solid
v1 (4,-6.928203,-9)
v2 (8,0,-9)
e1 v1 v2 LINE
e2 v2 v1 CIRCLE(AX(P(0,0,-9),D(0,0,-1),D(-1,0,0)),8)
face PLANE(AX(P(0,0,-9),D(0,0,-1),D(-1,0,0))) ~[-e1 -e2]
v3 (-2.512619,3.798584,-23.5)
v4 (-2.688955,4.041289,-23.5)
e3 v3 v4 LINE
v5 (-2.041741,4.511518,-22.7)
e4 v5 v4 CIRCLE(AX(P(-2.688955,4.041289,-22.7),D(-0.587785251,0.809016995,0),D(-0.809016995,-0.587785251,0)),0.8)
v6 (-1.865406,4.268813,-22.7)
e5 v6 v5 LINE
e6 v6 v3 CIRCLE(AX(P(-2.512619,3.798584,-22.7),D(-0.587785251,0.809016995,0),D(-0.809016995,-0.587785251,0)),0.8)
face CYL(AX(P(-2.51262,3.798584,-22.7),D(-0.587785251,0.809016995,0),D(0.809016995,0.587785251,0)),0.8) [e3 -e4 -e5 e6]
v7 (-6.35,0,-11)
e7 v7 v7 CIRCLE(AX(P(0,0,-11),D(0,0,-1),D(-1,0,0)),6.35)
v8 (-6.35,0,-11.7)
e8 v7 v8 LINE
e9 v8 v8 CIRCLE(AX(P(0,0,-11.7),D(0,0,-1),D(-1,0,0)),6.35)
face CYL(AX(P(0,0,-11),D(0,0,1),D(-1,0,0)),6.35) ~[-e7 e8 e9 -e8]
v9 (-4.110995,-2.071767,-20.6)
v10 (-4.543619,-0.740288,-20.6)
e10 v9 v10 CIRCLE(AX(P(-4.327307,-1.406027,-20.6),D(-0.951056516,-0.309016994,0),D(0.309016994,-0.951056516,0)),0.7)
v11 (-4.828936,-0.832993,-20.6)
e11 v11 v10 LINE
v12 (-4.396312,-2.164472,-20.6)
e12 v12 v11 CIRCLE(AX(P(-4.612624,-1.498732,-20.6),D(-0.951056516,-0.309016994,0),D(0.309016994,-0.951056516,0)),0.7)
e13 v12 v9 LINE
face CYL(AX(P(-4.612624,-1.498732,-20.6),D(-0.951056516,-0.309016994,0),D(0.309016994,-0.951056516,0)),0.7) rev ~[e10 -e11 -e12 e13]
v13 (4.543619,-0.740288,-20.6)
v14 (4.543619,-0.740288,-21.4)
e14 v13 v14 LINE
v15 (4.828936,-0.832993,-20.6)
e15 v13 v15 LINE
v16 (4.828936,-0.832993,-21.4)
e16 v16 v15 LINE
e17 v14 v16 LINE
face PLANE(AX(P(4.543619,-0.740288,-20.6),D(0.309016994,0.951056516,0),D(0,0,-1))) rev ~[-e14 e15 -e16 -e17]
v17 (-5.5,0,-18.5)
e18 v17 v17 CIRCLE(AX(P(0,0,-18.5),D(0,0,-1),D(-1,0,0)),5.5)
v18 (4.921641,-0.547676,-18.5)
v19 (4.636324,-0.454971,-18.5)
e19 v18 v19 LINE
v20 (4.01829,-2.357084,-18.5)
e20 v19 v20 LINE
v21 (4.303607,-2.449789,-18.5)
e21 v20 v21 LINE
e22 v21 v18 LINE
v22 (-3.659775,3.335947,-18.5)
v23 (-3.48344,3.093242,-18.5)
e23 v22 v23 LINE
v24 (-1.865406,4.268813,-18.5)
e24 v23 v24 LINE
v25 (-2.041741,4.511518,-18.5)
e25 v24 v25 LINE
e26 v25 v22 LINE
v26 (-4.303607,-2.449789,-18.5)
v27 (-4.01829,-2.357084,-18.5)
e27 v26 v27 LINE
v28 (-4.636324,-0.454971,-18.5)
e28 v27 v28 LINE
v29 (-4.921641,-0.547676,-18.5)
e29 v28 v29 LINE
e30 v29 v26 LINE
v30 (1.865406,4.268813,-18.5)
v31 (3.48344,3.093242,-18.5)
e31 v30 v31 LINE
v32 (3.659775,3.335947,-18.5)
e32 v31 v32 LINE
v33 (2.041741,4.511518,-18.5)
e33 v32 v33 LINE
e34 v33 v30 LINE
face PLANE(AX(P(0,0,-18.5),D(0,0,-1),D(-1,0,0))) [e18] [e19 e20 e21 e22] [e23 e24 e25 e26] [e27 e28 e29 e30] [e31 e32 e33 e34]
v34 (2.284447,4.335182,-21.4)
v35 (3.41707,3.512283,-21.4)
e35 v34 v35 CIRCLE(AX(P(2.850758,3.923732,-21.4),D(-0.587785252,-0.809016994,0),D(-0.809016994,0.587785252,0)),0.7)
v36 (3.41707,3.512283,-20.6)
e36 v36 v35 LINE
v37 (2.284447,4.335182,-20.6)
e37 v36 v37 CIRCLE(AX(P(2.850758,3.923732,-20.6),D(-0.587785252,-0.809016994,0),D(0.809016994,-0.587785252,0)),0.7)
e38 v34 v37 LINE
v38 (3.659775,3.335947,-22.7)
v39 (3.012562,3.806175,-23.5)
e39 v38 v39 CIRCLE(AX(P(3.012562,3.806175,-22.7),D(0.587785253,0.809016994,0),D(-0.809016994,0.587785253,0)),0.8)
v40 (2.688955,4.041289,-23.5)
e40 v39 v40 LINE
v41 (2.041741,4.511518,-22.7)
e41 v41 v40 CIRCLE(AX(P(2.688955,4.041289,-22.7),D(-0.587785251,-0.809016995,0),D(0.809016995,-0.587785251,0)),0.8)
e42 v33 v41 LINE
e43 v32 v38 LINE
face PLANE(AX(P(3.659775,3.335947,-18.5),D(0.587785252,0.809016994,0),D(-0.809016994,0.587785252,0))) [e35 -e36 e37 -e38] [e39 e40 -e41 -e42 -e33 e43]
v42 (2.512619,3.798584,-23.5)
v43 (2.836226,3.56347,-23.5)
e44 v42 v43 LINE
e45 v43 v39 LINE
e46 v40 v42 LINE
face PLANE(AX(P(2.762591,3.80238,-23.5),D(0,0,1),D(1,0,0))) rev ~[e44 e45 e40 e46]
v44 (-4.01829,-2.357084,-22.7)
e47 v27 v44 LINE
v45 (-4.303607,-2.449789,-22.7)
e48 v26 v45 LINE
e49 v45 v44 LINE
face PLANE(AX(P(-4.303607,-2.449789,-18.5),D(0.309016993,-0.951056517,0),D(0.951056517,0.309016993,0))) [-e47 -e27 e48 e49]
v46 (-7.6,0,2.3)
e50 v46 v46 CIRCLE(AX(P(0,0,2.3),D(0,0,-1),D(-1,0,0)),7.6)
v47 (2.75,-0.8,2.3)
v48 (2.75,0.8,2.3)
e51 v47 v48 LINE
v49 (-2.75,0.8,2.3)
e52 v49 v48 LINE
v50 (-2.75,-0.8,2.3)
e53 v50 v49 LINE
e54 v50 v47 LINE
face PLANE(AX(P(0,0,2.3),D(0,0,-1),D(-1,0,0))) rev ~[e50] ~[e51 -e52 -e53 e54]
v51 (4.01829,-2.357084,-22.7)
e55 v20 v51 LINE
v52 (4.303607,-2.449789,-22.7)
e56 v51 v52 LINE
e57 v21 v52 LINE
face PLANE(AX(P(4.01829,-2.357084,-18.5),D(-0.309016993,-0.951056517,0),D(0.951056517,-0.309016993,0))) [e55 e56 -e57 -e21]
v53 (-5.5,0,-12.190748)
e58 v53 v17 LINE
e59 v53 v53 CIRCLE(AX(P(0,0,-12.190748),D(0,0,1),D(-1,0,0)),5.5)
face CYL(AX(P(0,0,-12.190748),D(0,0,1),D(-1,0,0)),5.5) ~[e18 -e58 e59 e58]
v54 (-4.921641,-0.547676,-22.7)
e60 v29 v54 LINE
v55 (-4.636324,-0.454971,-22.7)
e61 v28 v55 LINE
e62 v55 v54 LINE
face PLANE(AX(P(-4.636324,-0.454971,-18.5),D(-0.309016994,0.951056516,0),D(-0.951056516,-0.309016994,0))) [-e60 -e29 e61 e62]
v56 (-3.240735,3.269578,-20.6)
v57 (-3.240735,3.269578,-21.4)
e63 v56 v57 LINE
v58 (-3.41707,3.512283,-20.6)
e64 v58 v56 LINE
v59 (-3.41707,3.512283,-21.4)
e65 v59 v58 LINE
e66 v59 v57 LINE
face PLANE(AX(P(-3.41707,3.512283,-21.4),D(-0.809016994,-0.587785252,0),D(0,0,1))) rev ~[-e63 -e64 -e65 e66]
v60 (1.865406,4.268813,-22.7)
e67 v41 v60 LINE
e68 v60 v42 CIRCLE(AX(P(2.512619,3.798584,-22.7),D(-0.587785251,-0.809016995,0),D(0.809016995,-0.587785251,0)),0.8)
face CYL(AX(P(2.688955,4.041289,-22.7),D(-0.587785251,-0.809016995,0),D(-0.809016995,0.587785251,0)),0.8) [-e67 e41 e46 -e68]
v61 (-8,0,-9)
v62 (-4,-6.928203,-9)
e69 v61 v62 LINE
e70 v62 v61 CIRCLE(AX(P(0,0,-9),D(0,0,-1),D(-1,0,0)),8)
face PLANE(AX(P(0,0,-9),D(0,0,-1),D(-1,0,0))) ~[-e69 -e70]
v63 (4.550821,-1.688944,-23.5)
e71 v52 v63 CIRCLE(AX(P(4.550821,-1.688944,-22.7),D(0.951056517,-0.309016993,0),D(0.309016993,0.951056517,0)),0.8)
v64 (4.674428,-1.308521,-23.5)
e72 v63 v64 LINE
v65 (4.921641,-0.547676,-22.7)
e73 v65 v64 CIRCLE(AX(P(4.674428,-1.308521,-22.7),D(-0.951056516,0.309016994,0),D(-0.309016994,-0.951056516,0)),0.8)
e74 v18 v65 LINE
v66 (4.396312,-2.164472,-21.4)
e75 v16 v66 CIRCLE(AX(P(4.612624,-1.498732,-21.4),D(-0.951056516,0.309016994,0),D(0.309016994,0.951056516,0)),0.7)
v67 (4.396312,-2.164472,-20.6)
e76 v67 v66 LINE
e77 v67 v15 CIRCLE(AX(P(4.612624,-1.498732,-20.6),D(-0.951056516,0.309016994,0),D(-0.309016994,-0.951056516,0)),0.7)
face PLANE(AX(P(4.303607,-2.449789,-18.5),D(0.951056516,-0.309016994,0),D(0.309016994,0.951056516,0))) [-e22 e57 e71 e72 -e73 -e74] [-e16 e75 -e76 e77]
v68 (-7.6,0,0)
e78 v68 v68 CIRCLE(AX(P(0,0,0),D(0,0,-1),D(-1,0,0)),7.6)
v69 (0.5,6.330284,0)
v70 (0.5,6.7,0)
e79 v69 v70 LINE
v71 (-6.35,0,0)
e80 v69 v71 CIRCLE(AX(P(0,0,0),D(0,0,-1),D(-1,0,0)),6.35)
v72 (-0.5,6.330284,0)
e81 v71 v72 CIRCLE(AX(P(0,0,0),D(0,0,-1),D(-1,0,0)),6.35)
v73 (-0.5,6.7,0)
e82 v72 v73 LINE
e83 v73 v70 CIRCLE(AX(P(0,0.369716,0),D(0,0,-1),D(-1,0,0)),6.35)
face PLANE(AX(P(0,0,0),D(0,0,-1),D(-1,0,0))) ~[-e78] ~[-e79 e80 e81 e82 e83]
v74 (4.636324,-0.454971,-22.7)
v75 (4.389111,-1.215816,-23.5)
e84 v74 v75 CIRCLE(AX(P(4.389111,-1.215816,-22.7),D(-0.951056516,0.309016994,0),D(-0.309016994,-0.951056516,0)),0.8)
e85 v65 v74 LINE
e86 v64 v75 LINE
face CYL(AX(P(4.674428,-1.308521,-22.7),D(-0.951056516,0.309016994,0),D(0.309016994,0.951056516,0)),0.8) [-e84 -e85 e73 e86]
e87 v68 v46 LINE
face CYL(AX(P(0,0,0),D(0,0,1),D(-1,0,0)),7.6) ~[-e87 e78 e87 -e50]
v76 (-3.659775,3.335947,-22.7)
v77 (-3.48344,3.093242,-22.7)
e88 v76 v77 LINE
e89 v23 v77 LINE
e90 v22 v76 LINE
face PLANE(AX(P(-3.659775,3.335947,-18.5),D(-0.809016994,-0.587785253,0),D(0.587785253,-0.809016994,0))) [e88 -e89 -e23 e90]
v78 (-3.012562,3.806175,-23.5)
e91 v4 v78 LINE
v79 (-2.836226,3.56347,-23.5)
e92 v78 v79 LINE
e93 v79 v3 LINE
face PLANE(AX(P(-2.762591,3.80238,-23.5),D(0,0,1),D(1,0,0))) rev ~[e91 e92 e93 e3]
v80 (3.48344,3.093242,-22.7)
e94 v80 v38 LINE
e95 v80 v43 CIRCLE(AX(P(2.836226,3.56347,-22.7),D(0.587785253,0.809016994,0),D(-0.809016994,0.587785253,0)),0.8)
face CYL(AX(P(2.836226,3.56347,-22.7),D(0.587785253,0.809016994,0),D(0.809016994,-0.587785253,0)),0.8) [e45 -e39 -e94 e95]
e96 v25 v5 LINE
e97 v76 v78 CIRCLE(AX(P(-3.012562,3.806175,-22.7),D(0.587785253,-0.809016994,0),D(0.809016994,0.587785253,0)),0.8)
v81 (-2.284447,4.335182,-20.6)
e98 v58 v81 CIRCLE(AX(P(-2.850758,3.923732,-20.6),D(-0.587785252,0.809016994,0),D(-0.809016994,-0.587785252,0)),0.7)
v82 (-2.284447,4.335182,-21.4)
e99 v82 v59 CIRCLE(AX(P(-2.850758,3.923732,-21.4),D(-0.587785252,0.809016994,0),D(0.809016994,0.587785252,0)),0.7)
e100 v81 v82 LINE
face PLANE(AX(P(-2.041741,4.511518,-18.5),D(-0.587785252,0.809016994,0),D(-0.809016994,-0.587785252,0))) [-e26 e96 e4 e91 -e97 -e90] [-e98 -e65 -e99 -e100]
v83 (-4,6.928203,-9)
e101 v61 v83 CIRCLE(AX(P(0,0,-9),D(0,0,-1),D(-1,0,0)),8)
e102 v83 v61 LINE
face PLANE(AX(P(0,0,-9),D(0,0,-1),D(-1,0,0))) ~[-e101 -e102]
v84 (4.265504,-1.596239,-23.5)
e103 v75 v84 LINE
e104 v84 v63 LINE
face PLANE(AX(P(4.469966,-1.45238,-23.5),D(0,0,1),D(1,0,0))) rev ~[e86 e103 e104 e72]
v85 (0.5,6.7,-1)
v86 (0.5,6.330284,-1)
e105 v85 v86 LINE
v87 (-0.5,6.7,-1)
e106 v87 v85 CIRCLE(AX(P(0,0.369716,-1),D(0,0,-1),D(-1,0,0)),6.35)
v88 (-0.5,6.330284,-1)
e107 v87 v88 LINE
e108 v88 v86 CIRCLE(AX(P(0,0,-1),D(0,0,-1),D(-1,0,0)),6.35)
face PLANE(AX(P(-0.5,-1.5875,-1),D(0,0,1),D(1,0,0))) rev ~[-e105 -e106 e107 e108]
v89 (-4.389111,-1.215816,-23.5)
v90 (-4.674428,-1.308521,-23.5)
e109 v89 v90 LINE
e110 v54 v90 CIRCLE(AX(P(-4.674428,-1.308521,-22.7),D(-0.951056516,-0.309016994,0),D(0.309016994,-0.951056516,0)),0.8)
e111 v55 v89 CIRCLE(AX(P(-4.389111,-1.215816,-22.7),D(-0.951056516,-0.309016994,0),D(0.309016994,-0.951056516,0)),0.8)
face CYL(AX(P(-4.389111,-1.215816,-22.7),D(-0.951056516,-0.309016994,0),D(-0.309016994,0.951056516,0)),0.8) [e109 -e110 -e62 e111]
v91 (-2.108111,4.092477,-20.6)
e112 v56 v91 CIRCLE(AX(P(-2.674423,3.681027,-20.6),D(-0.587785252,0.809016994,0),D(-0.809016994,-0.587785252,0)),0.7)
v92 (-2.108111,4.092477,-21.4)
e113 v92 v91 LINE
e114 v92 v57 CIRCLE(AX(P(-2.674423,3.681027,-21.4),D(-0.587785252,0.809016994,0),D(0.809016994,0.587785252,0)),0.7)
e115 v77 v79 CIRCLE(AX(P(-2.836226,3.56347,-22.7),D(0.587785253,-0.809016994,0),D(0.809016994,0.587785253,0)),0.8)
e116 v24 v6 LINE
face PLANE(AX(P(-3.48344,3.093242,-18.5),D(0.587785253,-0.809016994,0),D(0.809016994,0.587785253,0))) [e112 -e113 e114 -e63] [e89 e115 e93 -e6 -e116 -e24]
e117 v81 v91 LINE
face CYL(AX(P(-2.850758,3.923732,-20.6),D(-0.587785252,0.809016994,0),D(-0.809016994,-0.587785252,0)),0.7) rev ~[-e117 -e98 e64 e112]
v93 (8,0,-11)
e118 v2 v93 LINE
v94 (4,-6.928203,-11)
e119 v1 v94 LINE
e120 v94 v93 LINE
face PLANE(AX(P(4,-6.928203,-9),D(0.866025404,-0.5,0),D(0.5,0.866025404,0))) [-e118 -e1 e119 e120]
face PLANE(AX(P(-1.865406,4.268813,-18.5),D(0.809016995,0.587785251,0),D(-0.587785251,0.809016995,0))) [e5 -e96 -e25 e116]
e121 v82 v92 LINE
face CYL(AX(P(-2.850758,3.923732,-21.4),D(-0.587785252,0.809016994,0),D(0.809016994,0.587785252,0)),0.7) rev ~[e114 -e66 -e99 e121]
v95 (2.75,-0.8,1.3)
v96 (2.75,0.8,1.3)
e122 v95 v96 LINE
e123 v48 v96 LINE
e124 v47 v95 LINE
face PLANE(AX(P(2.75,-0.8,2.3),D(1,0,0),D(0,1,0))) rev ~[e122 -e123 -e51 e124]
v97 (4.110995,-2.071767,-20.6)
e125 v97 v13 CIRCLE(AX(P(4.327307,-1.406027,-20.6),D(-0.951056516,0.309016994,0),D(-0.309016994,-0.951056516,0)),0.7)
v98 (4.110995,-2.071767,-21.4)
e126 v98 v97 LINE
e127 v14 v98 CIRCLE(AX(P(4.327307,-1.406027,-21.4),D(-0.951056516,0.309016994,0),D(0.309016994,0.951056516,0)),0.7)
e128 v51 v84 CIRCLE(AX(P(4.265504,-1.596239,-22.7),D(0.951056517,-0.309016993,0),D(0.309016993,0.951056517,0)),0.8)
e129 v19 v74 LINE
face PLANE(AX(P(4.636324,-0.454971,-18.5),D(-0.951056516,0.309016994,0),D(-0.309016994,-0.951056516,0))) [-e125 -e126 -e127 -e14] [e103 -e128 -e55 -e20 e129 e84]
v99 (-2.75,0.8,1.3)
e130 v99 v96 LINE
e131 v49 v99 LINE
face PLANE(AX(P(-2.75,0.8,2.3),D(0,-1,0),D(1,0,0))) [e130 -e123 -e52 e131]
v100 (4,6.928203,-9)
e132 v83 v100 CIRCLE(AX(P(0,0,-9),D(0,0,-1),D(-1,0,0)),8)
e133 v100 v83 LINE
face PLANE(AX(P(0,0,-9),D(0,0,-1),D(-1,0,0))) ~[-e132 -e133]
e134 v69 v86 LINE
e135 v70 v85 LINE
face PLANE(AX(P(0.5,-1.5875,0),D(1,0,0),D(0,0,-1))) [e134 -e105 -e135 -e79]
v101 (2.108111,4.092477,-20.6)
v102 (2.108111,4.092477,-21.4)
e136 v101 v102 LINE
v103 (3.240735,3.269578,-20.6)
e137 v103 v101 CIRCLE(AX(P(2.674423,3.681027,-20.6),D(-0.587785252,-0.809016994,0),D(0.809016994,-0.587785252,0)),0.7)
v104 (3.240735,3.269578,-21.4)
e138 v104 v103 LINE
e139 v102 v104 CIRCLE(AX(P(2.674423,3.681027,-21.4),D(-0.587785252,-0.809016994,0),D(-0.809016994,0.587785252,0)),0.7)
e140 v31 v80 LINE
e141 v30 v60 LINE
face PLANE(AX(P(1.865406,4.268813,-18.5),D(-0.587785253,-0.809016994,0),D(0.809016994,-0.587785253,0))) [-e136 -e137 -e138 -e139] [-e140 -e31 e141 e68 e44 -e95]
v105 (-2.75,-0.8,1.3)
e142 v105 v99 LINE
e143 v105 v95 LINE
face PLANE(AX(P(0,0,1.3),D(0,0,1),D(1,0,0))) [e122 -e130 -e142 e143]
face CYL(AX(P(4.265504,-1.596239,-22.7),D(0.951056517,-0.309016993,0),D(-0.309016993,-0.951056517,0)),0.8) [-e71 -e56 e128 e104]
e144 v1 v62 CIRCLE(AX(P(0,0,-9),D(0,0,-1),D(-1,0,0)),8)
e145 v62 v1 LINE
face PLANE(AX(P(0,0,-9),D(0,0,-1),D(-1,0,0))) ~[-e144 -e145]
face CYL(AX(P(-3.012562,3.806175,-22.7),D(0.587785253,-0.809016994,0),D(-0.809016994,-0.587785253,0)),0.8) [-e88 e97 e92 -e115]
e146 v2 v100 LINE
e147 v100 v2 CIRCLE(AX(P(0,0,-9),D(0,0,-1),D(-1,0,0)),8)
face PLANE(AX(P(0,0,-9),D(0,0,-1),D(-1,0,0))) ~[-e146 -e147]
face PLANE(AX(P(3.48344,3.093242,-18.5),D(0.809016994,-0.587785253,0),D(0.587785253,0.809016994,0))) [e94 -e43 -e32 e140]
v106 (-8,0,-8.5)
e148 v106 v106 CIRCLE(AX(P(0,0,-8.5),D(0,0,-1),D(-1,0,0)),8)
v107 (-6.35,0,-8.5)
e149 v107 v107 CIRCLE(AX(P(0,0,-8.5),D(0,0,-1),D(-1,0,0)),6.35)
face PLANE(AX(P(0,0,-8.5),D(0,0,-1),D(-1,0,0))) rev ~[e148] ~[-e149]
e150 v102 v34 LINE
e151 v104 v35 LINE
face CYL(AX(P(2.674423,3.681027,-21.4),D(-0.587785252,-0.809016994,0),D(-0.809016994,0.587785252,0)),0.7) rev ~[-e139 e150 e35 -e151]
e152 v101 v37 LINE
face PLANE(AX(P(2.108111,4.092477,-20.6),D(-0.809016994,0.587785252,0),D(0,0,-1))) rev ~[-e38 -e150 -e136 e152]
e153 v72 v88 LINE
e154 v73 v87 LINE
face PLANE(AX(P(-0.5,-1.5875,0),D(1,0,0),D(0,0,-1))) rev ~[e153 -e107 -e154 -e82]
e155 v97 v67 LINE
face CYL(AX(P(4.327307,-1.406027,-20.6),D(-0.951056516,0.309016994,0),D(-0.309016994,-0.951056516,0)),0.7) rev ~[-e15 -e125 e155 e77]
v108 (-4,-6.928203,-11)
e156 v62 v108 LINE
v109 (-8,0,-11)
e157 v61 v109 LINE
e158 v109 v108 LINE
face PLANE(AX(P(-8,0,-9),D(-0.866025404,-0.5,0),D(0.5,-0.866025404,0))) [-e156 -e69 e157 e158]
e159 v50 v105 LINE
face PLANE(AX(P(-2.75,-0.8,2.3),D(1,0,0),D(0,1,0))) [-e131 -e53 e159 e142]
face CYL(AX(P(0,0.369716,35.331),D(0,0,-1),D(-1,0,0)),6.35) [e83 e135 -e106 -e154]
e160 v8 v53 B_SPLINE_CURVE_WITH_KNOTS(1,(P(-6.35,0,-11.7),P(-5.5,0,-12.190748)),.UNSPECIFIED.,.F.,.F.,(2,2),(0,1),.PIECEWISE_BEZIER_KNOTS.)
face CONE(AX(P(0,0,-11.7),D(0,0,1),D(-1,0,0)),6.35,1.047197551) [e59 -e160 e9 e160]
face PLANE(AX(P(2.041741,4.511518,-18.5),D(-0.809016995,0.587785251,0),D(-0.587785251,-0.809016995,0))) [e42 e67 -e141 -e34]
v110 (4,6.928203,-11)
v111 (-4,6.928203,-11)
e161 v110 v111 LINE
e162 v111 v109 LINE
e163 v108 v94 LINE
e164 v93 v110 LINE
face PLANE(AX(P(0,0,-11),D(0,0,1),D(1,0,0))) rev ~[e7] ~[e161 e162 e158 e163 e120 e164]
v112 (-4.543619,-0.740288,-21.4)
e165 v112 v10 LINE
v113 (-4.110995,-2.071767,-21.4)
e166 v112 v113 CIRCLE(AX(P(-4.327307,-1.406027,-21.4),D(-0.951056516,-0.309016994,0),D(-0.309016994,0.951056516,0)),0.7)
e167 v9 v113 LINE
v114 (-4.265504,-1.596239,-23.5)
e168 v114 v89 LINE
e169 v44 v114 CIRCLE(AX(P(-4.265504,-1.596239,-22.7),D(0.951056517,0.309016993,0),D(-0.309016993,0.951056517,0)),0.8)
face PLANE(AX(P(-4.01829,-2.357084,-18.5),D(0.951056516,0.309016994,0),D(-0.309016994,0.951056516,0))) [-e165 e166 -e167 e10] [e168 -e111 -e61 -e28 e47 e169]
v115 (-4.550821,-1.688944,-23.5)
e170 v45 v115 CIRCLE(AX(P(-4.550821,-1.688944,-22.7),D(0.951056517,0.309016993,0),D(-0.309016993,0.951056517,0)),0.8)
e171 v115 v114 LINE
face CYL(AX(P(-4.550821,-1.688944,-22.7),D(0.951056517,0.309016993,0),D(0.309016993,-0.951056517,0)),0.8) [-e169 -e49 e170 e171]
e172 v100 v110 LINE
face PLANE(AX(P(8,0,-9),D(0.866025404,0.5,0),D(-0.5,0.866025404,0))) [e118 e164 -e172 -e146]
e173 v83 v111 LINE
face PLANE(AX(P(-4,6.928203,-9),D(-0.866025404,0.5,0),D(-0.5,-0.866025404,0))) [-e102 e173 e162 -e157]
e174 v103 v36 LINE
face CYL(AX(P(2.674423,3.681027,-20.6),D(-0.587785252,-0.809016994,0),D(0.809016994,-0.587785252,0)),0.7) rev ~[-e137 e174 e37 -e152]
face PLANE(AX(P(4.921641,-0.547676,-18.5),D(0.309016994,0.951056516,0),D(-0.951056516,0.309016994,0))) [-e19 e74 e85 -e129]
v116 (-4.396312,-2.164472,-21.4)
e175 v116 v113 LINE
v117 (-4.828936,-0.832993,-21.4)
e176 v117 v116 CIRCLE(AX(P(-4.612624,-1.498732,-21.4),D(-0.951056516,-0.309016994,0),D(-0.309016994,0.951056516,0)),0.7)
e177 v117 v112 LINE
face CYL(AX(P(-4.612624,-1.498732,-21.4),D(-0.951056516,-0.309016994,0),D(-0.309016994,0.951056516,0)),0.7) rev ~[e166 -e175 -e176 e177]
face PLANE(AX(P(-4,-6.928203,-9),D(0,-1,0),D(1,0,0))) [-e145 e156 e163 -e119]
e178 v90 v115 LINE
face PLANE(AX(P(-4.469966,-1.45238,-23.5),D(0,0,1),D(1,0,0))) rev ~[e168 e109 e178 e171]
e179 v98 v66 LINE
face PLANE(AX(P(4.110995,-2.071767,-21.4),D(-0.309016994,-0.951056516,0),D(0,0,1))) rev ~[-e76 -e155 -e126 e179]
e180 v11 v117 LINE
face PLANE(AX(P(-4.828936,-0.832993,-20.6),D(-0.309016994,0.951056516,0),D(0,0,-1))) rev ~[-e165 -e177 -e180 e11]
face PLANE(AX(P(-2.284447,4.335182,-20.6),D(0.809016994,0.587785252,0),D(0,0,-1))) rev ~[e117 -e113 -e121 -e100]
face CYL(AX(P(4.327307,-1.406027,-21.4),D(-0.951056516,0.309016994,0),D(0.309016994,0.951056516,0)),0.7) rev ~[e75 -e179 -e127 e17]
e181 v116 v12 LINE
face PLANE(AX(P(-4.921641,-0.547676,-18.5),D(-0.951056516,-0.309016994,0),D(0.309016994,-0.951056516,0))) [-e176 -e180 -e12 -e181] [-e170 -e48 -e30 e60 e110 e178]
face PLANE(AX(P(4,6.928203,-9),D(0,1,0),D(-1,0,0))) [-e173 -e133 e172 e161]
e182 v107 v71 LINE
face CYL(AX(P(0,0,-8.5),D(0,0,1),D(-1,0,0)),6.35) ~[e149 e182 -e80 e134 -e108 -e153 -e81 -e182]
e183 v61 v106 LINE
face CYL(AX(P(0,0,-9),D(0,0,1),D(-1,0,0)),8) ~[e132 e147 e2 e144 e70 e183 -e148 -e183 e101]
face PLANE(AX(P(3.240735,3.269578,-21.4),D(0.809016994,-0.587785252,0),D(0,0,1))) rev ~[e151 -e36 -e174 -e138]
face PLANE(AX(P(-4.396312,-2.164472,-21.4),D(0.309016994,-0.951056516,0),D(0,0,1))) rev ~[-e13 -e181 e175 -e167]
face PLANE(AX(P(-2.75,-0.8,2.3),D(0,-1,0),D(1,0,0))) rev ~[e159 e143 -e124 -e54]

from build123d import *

# Parameters (mm, degrees)
BOSS_EXTRUDE1_DEPTH        = 2
SKETCH3_R                  = 6.35
BOSS_EXTRUDE2_DEPTH        = 0.7
SKETCH4_R                  = 6.35
BOSS_EXTRUDE3_DEPTH        = 0.490747729
BOSS_EXTRUDE3_TAPER        = 60.000000001
SKETCH5_R                  = 5.5
BOSS_EXTRUDE4_DEPTH        = 6.309252271
BOSS_EXTRUDE5_DEPTH        = 5
CUT_EXTRUDE1_DEPTH         = 29.154677259
BOSS_EXTRUDE6_DEPTH        = 5
CUT_EXTRUDE2_DEPTH         = 29.330896625
BOSS_EXTRUDE7_DEPTH        = 5
CUT_EXTRUDE3_DEPTH         = 29.311732629
BOSS_EXTRUDE8_DEPTH        = 5
CUT_EXTRUDE4_DEPTH         = 29.498497405
BOSS_EXTRUDE9_REACH        = 28.981
BOSS_EXTRUDE9_START_RADIUS = 6.35
BOSS_EXTRUDE9_END_RADIUS   = 6.35
SKETCH14_W                 = 1
SKETCH14_H                 = 1
FILLET1_R                  = 0.8
SKETCH15_W                 = 5.5
SKETCH15_H                 = 1.6
CUT_EXTRUDE5_DEPTH         = 1


with BuildPart() as part:
    # Sketch1 → Revolve1 (revolve)
    with BuildSketch(Plane.XZ, mode=Mode.PRIVATE) as revolve1_sk:
        Polygon((7.6, 2.3), (0, 2.3), (0, -9), (8, -9), (8, -8.5), (6.35, -8.5), (6.35, 0), (7.6, 0), align=None)
    revolve(revolve1_sk.sketch.rotate(Axis((0, 0, 2.3), (0, 0, -1)), 180), axis=Axis((0, 0, 2.3), (0, 0, -1)))

    # Sketch2 → Boss-Extrude1 (add)
    with BuildSketch(Plane(origin=(0, 0, -9), x_dir=(-1, 0, 0), z_dir=(0, 0, -1))):
        Polygon((-4, -6.92820323), (-8, 0), (-4, 6.92820323), (4, 6.92820323), (8, 0), (4, -6.92820323), align=None)
    extrude(amount=BOSS_EXTRUDE1_DEPTH)

    # Sketch3 → Boss-Extrude2 (add)
    with BuildSketch(Plane(origin=(0, 0, -11), x_dir=(-1, 0, 0), z_dir=(0, 0, -1))):
        Circle(SKETCH3_R)
    extrude(amount=BOSS_EXTRUDE2_DEPTH)

    # Sketch4 → Boss-Extrude3 (add)
    with BuildSketch(Plane(origin=(0, 0, -11.7), x_dir=(-1, 0, 0), z_dir=(0, 0, -1))):
        Circle(SKETCH4_R)
    extrude(amount=BOSS_EXTRUDE3_DEPTH, taper=BOSS_EXTRUDE3_TAPER)

    # Sketch5 → Boss-Extrude4 (add)
    with BuildSketch(Plane(origin=(0, 0, -12.190747729), x_dir=(-1, 0, 0), z_dir=(0, 0, -1))):
        Circle(SKETCH5_R)
    extrude(amount=BOSS_EXTRUDE4_DEPTH)

    # Sketch6 → Boss-Extrude5 (add)
    with BuildSketch(Plane(origin=(0, 0, -18.5), x_dir=(-1, 0, 0), z_dir=(0, 0, -1))):
        Polygon((-4.921641098, -0.547675906), (-4.636324144, -0.454970808), (-4.018290155, -2.357083841), (-4.30360711, -2.449788939), align=None)
    extrude(amount=BOSS_EXTRUDE5_DEPTH)

    # Sketch7 → Cut-Extrude1 (cut, through all)
    with BuildSketch(Plane(origin=(4.327307149, -1.406027324, 0), x_dir=(0, 0, 1), z_dir=(-0.9510565162951721, 0.30901699437489094, 0))):
        with BuildLine():
            Line((-21.4, -0.7), (-20.6, -0.7))
            ThreePointArc((-20.6, -0.7), (-19.9, 0), (-20.6, 0.7))
            Line((-20.6, 0.7), (-21.4, 0.7))
            ThreePointArc((-21.4, 0.7), (-22.1, 0), (-21.4, -0.7))
        make_face()
    extrude(amount=-CUT_EXTRUDE1_DEPTH, mode=Mode.SUBTRACT)

    # Sketch8 → Boss-Extrude6 (add)
    with BuildSketch(Plane(origin=(0, 0, -18.5), x_dir=(-1, 0, 0), z_dir=(0, 0, -1))):
        Polygon((-3.483439892, 3.093242072), (-3.659775468, 3.33594717), (-2.041741479, 4.511517675), (-1.865405904, 4.268812577), align=None)
    extrude(amount=BOSS_EXTRUDE6_DEPTH)

    # Sketch9 → Cut-Extrude2 (cut, through all)
    with BuildSketch(Plane(origin=(2.674422898, 3.681027324, 0), x_dir=(0.8090169943747798, -0.5877852522927041, 0), z_dir=(-0.587785252292704, -0.8090169943747797, 0))):
        with BuildLine():
            Line((0.7, -21.4), (0.7, -20.6))
            ThreePointArc((0.7, -20.6), (0, -19.9), (-0.7, -20.6))
            Line((-0.7, -20.6), (-0.7, -21.4))
            ThreePointArc((-0.7, -21.4), (0, -22.1), (0.7, -21.4))
        make_face()
    extrude(amount=-CUT_EXTRUDE2_DEPTH, mode=Mode.SUBTRACT)

    # Sketch10 → Boss-Extrude7 (add)
    with BuildSketch(Plane(origin=(0, 0, -18.5), x_dir=(-1, 0, 0), z_dir=(0, 0, -1))):
        Polygon((4.636324144, -0.454970808), (4.921641098, -0.547675906), (4.30360711, -2.449788939), (4.018290155, -2.357083841), align=None)
    extrude(amount=BOSS_EXTRUDE7_DEPTH)

    # Sketch11 → Cut-Extrude3 (cut, through all)
    with BuildSketch(Plane(origin=(-4.612624104, -1.498732423, 0), x_dir=(0, 0, 1), z_dir=(-0.9510565162951283, -0.3090169943750252, 0))):
        with BuildLine():
            Line((-20.6, 0.7), (-21.4, 0.7))
            ThreePointArc((-21.4, 0.7), (-22.1, 0), (-21.4, -0.7))
            Line((-21.4, -0.7), (-20.6, -0.7))
            ThreePointArc((-20.6, -0.7), (-19.9, 0), (-20.6, 0.7))
        make_face()
    extrude(amount=-CUT_EXTRUDE3_DEPTH, mode=Mode.SUBTRACT)

    # Sketch12 → Boss-Extrude8 (add)
    with BuildSketch(Plane(origin=(0, 0, -18.5), x_dir=(-1, 0, 0), z_dir=(0, 0, -1))):
        Polygon((1.865405904, 4.268812577), (2.041741479, 4.511517675), (3.659775468, 3.33594717), (3.483439892, 3.093242072), align=None)
    extrude(amount=BOSS_EXTRUDE8_DEPTH)

    # Sketch13 → Cut-Extrude4 (cut, through all)
    with BuildSketch(Plane(origin=(-2.850758474, 3.923732423, 0), x_dir=(-0.8090169943749189, -0.5877852522925126, 0), z_dir=(-0.5877852522925126, 0.8090169943749189, 0))):
        with BuildLine():
            Line((-0.7, -20.6), (-0.7, -21.4))
            ThreePointArc((-0.7, -21.4), (0, -22.1), (0.7, -21.4))
            Line((0.7, -21.4), (0.7, -20.6))
            ThreePointArc((0.7, -20.6), (0, -19.9), (-0.7, -20.6))
        make_face()
    extrude(amount=-CUT_EXTRUDE4_DEPTH, mode=Mode.SUBTRACT)

    # Boss-Extrude9: from a cylinder face, 28.981 long prism both ways, kept between that surface and its translate by the depth
    boss_extrude9_start = Plane(origin=(0, 0, -0.5), z_dir=(0, 0, -1)) * Cylinder(BOSS_EXTRUDE9_START_RADIUS, 71.662, mode=Mode.PRIVATE)
    boss_extrude9_end = Plane(origin=(0, 0.369715646, -0.5), z_dir=(0, 0, -1)) * Cylinder(BOSS_EXTRUDE9_END_RADIUS, 71.662, mode=Mode.PRIVATE)
    # Sketch14 → Boss-Extrude9 (add, from a surface)
    with BuildSketch(Plane(origin=(0, -1.5875, 0), x_dir=(1, 0, 0), z_dir=(0, 1, 0)), mode=Mode.PRIVATE) as boss_extrude9_sk1:
        with Locations((0, 0.5)):
            Rectangle(SKETCH14_W, SKETCH14_H)
    boss_extrude9_tool1 = extrude(boss_extrude9_sk1.sketch, amount=BOSS_EXTRUDE9_REACH, both=True, mode=Mode.PRIVATE)
    add(((boss_extrude9_tool1 - boss_extrude9_start) & boss_extrude9_end).solids().sort_by_distance((0, 6.515142, -0.5))[0])

    # Fillet1
    fillet1_edges = [part.edges().sort_by_distance(p)[0] for p in [
        (-4.160948632, -2.40343639, -23.5),
        (-4.778982621, -0.501323357, -23.5),
        (-3.57160768, 3.214594621, -23.5),
        (-1.953573691, 4.390165126, -23.5),
        (4.160948632, -2.40343639, -23.5),
        (4.778982621, -0.501323357, -23.5),
        (1.953573691, 4.390165126, -23.5),
        (3.57160768, 3.214594621, -23.5),
    ]]
    fillet(fillet1_edges, radius=FILLET1_R)

    # Sketch15 → Cut-Extrude5 (cut)
    with BuildSketch(Plane.XY.offset(2.3)):
        Rectangle(SKETCH15_W, SKETCH15_H)
    extrude(amount=-CUT_EXTRUDE5_DEPTH, mode=Mode.SUBTRACT)


solid = part.part
